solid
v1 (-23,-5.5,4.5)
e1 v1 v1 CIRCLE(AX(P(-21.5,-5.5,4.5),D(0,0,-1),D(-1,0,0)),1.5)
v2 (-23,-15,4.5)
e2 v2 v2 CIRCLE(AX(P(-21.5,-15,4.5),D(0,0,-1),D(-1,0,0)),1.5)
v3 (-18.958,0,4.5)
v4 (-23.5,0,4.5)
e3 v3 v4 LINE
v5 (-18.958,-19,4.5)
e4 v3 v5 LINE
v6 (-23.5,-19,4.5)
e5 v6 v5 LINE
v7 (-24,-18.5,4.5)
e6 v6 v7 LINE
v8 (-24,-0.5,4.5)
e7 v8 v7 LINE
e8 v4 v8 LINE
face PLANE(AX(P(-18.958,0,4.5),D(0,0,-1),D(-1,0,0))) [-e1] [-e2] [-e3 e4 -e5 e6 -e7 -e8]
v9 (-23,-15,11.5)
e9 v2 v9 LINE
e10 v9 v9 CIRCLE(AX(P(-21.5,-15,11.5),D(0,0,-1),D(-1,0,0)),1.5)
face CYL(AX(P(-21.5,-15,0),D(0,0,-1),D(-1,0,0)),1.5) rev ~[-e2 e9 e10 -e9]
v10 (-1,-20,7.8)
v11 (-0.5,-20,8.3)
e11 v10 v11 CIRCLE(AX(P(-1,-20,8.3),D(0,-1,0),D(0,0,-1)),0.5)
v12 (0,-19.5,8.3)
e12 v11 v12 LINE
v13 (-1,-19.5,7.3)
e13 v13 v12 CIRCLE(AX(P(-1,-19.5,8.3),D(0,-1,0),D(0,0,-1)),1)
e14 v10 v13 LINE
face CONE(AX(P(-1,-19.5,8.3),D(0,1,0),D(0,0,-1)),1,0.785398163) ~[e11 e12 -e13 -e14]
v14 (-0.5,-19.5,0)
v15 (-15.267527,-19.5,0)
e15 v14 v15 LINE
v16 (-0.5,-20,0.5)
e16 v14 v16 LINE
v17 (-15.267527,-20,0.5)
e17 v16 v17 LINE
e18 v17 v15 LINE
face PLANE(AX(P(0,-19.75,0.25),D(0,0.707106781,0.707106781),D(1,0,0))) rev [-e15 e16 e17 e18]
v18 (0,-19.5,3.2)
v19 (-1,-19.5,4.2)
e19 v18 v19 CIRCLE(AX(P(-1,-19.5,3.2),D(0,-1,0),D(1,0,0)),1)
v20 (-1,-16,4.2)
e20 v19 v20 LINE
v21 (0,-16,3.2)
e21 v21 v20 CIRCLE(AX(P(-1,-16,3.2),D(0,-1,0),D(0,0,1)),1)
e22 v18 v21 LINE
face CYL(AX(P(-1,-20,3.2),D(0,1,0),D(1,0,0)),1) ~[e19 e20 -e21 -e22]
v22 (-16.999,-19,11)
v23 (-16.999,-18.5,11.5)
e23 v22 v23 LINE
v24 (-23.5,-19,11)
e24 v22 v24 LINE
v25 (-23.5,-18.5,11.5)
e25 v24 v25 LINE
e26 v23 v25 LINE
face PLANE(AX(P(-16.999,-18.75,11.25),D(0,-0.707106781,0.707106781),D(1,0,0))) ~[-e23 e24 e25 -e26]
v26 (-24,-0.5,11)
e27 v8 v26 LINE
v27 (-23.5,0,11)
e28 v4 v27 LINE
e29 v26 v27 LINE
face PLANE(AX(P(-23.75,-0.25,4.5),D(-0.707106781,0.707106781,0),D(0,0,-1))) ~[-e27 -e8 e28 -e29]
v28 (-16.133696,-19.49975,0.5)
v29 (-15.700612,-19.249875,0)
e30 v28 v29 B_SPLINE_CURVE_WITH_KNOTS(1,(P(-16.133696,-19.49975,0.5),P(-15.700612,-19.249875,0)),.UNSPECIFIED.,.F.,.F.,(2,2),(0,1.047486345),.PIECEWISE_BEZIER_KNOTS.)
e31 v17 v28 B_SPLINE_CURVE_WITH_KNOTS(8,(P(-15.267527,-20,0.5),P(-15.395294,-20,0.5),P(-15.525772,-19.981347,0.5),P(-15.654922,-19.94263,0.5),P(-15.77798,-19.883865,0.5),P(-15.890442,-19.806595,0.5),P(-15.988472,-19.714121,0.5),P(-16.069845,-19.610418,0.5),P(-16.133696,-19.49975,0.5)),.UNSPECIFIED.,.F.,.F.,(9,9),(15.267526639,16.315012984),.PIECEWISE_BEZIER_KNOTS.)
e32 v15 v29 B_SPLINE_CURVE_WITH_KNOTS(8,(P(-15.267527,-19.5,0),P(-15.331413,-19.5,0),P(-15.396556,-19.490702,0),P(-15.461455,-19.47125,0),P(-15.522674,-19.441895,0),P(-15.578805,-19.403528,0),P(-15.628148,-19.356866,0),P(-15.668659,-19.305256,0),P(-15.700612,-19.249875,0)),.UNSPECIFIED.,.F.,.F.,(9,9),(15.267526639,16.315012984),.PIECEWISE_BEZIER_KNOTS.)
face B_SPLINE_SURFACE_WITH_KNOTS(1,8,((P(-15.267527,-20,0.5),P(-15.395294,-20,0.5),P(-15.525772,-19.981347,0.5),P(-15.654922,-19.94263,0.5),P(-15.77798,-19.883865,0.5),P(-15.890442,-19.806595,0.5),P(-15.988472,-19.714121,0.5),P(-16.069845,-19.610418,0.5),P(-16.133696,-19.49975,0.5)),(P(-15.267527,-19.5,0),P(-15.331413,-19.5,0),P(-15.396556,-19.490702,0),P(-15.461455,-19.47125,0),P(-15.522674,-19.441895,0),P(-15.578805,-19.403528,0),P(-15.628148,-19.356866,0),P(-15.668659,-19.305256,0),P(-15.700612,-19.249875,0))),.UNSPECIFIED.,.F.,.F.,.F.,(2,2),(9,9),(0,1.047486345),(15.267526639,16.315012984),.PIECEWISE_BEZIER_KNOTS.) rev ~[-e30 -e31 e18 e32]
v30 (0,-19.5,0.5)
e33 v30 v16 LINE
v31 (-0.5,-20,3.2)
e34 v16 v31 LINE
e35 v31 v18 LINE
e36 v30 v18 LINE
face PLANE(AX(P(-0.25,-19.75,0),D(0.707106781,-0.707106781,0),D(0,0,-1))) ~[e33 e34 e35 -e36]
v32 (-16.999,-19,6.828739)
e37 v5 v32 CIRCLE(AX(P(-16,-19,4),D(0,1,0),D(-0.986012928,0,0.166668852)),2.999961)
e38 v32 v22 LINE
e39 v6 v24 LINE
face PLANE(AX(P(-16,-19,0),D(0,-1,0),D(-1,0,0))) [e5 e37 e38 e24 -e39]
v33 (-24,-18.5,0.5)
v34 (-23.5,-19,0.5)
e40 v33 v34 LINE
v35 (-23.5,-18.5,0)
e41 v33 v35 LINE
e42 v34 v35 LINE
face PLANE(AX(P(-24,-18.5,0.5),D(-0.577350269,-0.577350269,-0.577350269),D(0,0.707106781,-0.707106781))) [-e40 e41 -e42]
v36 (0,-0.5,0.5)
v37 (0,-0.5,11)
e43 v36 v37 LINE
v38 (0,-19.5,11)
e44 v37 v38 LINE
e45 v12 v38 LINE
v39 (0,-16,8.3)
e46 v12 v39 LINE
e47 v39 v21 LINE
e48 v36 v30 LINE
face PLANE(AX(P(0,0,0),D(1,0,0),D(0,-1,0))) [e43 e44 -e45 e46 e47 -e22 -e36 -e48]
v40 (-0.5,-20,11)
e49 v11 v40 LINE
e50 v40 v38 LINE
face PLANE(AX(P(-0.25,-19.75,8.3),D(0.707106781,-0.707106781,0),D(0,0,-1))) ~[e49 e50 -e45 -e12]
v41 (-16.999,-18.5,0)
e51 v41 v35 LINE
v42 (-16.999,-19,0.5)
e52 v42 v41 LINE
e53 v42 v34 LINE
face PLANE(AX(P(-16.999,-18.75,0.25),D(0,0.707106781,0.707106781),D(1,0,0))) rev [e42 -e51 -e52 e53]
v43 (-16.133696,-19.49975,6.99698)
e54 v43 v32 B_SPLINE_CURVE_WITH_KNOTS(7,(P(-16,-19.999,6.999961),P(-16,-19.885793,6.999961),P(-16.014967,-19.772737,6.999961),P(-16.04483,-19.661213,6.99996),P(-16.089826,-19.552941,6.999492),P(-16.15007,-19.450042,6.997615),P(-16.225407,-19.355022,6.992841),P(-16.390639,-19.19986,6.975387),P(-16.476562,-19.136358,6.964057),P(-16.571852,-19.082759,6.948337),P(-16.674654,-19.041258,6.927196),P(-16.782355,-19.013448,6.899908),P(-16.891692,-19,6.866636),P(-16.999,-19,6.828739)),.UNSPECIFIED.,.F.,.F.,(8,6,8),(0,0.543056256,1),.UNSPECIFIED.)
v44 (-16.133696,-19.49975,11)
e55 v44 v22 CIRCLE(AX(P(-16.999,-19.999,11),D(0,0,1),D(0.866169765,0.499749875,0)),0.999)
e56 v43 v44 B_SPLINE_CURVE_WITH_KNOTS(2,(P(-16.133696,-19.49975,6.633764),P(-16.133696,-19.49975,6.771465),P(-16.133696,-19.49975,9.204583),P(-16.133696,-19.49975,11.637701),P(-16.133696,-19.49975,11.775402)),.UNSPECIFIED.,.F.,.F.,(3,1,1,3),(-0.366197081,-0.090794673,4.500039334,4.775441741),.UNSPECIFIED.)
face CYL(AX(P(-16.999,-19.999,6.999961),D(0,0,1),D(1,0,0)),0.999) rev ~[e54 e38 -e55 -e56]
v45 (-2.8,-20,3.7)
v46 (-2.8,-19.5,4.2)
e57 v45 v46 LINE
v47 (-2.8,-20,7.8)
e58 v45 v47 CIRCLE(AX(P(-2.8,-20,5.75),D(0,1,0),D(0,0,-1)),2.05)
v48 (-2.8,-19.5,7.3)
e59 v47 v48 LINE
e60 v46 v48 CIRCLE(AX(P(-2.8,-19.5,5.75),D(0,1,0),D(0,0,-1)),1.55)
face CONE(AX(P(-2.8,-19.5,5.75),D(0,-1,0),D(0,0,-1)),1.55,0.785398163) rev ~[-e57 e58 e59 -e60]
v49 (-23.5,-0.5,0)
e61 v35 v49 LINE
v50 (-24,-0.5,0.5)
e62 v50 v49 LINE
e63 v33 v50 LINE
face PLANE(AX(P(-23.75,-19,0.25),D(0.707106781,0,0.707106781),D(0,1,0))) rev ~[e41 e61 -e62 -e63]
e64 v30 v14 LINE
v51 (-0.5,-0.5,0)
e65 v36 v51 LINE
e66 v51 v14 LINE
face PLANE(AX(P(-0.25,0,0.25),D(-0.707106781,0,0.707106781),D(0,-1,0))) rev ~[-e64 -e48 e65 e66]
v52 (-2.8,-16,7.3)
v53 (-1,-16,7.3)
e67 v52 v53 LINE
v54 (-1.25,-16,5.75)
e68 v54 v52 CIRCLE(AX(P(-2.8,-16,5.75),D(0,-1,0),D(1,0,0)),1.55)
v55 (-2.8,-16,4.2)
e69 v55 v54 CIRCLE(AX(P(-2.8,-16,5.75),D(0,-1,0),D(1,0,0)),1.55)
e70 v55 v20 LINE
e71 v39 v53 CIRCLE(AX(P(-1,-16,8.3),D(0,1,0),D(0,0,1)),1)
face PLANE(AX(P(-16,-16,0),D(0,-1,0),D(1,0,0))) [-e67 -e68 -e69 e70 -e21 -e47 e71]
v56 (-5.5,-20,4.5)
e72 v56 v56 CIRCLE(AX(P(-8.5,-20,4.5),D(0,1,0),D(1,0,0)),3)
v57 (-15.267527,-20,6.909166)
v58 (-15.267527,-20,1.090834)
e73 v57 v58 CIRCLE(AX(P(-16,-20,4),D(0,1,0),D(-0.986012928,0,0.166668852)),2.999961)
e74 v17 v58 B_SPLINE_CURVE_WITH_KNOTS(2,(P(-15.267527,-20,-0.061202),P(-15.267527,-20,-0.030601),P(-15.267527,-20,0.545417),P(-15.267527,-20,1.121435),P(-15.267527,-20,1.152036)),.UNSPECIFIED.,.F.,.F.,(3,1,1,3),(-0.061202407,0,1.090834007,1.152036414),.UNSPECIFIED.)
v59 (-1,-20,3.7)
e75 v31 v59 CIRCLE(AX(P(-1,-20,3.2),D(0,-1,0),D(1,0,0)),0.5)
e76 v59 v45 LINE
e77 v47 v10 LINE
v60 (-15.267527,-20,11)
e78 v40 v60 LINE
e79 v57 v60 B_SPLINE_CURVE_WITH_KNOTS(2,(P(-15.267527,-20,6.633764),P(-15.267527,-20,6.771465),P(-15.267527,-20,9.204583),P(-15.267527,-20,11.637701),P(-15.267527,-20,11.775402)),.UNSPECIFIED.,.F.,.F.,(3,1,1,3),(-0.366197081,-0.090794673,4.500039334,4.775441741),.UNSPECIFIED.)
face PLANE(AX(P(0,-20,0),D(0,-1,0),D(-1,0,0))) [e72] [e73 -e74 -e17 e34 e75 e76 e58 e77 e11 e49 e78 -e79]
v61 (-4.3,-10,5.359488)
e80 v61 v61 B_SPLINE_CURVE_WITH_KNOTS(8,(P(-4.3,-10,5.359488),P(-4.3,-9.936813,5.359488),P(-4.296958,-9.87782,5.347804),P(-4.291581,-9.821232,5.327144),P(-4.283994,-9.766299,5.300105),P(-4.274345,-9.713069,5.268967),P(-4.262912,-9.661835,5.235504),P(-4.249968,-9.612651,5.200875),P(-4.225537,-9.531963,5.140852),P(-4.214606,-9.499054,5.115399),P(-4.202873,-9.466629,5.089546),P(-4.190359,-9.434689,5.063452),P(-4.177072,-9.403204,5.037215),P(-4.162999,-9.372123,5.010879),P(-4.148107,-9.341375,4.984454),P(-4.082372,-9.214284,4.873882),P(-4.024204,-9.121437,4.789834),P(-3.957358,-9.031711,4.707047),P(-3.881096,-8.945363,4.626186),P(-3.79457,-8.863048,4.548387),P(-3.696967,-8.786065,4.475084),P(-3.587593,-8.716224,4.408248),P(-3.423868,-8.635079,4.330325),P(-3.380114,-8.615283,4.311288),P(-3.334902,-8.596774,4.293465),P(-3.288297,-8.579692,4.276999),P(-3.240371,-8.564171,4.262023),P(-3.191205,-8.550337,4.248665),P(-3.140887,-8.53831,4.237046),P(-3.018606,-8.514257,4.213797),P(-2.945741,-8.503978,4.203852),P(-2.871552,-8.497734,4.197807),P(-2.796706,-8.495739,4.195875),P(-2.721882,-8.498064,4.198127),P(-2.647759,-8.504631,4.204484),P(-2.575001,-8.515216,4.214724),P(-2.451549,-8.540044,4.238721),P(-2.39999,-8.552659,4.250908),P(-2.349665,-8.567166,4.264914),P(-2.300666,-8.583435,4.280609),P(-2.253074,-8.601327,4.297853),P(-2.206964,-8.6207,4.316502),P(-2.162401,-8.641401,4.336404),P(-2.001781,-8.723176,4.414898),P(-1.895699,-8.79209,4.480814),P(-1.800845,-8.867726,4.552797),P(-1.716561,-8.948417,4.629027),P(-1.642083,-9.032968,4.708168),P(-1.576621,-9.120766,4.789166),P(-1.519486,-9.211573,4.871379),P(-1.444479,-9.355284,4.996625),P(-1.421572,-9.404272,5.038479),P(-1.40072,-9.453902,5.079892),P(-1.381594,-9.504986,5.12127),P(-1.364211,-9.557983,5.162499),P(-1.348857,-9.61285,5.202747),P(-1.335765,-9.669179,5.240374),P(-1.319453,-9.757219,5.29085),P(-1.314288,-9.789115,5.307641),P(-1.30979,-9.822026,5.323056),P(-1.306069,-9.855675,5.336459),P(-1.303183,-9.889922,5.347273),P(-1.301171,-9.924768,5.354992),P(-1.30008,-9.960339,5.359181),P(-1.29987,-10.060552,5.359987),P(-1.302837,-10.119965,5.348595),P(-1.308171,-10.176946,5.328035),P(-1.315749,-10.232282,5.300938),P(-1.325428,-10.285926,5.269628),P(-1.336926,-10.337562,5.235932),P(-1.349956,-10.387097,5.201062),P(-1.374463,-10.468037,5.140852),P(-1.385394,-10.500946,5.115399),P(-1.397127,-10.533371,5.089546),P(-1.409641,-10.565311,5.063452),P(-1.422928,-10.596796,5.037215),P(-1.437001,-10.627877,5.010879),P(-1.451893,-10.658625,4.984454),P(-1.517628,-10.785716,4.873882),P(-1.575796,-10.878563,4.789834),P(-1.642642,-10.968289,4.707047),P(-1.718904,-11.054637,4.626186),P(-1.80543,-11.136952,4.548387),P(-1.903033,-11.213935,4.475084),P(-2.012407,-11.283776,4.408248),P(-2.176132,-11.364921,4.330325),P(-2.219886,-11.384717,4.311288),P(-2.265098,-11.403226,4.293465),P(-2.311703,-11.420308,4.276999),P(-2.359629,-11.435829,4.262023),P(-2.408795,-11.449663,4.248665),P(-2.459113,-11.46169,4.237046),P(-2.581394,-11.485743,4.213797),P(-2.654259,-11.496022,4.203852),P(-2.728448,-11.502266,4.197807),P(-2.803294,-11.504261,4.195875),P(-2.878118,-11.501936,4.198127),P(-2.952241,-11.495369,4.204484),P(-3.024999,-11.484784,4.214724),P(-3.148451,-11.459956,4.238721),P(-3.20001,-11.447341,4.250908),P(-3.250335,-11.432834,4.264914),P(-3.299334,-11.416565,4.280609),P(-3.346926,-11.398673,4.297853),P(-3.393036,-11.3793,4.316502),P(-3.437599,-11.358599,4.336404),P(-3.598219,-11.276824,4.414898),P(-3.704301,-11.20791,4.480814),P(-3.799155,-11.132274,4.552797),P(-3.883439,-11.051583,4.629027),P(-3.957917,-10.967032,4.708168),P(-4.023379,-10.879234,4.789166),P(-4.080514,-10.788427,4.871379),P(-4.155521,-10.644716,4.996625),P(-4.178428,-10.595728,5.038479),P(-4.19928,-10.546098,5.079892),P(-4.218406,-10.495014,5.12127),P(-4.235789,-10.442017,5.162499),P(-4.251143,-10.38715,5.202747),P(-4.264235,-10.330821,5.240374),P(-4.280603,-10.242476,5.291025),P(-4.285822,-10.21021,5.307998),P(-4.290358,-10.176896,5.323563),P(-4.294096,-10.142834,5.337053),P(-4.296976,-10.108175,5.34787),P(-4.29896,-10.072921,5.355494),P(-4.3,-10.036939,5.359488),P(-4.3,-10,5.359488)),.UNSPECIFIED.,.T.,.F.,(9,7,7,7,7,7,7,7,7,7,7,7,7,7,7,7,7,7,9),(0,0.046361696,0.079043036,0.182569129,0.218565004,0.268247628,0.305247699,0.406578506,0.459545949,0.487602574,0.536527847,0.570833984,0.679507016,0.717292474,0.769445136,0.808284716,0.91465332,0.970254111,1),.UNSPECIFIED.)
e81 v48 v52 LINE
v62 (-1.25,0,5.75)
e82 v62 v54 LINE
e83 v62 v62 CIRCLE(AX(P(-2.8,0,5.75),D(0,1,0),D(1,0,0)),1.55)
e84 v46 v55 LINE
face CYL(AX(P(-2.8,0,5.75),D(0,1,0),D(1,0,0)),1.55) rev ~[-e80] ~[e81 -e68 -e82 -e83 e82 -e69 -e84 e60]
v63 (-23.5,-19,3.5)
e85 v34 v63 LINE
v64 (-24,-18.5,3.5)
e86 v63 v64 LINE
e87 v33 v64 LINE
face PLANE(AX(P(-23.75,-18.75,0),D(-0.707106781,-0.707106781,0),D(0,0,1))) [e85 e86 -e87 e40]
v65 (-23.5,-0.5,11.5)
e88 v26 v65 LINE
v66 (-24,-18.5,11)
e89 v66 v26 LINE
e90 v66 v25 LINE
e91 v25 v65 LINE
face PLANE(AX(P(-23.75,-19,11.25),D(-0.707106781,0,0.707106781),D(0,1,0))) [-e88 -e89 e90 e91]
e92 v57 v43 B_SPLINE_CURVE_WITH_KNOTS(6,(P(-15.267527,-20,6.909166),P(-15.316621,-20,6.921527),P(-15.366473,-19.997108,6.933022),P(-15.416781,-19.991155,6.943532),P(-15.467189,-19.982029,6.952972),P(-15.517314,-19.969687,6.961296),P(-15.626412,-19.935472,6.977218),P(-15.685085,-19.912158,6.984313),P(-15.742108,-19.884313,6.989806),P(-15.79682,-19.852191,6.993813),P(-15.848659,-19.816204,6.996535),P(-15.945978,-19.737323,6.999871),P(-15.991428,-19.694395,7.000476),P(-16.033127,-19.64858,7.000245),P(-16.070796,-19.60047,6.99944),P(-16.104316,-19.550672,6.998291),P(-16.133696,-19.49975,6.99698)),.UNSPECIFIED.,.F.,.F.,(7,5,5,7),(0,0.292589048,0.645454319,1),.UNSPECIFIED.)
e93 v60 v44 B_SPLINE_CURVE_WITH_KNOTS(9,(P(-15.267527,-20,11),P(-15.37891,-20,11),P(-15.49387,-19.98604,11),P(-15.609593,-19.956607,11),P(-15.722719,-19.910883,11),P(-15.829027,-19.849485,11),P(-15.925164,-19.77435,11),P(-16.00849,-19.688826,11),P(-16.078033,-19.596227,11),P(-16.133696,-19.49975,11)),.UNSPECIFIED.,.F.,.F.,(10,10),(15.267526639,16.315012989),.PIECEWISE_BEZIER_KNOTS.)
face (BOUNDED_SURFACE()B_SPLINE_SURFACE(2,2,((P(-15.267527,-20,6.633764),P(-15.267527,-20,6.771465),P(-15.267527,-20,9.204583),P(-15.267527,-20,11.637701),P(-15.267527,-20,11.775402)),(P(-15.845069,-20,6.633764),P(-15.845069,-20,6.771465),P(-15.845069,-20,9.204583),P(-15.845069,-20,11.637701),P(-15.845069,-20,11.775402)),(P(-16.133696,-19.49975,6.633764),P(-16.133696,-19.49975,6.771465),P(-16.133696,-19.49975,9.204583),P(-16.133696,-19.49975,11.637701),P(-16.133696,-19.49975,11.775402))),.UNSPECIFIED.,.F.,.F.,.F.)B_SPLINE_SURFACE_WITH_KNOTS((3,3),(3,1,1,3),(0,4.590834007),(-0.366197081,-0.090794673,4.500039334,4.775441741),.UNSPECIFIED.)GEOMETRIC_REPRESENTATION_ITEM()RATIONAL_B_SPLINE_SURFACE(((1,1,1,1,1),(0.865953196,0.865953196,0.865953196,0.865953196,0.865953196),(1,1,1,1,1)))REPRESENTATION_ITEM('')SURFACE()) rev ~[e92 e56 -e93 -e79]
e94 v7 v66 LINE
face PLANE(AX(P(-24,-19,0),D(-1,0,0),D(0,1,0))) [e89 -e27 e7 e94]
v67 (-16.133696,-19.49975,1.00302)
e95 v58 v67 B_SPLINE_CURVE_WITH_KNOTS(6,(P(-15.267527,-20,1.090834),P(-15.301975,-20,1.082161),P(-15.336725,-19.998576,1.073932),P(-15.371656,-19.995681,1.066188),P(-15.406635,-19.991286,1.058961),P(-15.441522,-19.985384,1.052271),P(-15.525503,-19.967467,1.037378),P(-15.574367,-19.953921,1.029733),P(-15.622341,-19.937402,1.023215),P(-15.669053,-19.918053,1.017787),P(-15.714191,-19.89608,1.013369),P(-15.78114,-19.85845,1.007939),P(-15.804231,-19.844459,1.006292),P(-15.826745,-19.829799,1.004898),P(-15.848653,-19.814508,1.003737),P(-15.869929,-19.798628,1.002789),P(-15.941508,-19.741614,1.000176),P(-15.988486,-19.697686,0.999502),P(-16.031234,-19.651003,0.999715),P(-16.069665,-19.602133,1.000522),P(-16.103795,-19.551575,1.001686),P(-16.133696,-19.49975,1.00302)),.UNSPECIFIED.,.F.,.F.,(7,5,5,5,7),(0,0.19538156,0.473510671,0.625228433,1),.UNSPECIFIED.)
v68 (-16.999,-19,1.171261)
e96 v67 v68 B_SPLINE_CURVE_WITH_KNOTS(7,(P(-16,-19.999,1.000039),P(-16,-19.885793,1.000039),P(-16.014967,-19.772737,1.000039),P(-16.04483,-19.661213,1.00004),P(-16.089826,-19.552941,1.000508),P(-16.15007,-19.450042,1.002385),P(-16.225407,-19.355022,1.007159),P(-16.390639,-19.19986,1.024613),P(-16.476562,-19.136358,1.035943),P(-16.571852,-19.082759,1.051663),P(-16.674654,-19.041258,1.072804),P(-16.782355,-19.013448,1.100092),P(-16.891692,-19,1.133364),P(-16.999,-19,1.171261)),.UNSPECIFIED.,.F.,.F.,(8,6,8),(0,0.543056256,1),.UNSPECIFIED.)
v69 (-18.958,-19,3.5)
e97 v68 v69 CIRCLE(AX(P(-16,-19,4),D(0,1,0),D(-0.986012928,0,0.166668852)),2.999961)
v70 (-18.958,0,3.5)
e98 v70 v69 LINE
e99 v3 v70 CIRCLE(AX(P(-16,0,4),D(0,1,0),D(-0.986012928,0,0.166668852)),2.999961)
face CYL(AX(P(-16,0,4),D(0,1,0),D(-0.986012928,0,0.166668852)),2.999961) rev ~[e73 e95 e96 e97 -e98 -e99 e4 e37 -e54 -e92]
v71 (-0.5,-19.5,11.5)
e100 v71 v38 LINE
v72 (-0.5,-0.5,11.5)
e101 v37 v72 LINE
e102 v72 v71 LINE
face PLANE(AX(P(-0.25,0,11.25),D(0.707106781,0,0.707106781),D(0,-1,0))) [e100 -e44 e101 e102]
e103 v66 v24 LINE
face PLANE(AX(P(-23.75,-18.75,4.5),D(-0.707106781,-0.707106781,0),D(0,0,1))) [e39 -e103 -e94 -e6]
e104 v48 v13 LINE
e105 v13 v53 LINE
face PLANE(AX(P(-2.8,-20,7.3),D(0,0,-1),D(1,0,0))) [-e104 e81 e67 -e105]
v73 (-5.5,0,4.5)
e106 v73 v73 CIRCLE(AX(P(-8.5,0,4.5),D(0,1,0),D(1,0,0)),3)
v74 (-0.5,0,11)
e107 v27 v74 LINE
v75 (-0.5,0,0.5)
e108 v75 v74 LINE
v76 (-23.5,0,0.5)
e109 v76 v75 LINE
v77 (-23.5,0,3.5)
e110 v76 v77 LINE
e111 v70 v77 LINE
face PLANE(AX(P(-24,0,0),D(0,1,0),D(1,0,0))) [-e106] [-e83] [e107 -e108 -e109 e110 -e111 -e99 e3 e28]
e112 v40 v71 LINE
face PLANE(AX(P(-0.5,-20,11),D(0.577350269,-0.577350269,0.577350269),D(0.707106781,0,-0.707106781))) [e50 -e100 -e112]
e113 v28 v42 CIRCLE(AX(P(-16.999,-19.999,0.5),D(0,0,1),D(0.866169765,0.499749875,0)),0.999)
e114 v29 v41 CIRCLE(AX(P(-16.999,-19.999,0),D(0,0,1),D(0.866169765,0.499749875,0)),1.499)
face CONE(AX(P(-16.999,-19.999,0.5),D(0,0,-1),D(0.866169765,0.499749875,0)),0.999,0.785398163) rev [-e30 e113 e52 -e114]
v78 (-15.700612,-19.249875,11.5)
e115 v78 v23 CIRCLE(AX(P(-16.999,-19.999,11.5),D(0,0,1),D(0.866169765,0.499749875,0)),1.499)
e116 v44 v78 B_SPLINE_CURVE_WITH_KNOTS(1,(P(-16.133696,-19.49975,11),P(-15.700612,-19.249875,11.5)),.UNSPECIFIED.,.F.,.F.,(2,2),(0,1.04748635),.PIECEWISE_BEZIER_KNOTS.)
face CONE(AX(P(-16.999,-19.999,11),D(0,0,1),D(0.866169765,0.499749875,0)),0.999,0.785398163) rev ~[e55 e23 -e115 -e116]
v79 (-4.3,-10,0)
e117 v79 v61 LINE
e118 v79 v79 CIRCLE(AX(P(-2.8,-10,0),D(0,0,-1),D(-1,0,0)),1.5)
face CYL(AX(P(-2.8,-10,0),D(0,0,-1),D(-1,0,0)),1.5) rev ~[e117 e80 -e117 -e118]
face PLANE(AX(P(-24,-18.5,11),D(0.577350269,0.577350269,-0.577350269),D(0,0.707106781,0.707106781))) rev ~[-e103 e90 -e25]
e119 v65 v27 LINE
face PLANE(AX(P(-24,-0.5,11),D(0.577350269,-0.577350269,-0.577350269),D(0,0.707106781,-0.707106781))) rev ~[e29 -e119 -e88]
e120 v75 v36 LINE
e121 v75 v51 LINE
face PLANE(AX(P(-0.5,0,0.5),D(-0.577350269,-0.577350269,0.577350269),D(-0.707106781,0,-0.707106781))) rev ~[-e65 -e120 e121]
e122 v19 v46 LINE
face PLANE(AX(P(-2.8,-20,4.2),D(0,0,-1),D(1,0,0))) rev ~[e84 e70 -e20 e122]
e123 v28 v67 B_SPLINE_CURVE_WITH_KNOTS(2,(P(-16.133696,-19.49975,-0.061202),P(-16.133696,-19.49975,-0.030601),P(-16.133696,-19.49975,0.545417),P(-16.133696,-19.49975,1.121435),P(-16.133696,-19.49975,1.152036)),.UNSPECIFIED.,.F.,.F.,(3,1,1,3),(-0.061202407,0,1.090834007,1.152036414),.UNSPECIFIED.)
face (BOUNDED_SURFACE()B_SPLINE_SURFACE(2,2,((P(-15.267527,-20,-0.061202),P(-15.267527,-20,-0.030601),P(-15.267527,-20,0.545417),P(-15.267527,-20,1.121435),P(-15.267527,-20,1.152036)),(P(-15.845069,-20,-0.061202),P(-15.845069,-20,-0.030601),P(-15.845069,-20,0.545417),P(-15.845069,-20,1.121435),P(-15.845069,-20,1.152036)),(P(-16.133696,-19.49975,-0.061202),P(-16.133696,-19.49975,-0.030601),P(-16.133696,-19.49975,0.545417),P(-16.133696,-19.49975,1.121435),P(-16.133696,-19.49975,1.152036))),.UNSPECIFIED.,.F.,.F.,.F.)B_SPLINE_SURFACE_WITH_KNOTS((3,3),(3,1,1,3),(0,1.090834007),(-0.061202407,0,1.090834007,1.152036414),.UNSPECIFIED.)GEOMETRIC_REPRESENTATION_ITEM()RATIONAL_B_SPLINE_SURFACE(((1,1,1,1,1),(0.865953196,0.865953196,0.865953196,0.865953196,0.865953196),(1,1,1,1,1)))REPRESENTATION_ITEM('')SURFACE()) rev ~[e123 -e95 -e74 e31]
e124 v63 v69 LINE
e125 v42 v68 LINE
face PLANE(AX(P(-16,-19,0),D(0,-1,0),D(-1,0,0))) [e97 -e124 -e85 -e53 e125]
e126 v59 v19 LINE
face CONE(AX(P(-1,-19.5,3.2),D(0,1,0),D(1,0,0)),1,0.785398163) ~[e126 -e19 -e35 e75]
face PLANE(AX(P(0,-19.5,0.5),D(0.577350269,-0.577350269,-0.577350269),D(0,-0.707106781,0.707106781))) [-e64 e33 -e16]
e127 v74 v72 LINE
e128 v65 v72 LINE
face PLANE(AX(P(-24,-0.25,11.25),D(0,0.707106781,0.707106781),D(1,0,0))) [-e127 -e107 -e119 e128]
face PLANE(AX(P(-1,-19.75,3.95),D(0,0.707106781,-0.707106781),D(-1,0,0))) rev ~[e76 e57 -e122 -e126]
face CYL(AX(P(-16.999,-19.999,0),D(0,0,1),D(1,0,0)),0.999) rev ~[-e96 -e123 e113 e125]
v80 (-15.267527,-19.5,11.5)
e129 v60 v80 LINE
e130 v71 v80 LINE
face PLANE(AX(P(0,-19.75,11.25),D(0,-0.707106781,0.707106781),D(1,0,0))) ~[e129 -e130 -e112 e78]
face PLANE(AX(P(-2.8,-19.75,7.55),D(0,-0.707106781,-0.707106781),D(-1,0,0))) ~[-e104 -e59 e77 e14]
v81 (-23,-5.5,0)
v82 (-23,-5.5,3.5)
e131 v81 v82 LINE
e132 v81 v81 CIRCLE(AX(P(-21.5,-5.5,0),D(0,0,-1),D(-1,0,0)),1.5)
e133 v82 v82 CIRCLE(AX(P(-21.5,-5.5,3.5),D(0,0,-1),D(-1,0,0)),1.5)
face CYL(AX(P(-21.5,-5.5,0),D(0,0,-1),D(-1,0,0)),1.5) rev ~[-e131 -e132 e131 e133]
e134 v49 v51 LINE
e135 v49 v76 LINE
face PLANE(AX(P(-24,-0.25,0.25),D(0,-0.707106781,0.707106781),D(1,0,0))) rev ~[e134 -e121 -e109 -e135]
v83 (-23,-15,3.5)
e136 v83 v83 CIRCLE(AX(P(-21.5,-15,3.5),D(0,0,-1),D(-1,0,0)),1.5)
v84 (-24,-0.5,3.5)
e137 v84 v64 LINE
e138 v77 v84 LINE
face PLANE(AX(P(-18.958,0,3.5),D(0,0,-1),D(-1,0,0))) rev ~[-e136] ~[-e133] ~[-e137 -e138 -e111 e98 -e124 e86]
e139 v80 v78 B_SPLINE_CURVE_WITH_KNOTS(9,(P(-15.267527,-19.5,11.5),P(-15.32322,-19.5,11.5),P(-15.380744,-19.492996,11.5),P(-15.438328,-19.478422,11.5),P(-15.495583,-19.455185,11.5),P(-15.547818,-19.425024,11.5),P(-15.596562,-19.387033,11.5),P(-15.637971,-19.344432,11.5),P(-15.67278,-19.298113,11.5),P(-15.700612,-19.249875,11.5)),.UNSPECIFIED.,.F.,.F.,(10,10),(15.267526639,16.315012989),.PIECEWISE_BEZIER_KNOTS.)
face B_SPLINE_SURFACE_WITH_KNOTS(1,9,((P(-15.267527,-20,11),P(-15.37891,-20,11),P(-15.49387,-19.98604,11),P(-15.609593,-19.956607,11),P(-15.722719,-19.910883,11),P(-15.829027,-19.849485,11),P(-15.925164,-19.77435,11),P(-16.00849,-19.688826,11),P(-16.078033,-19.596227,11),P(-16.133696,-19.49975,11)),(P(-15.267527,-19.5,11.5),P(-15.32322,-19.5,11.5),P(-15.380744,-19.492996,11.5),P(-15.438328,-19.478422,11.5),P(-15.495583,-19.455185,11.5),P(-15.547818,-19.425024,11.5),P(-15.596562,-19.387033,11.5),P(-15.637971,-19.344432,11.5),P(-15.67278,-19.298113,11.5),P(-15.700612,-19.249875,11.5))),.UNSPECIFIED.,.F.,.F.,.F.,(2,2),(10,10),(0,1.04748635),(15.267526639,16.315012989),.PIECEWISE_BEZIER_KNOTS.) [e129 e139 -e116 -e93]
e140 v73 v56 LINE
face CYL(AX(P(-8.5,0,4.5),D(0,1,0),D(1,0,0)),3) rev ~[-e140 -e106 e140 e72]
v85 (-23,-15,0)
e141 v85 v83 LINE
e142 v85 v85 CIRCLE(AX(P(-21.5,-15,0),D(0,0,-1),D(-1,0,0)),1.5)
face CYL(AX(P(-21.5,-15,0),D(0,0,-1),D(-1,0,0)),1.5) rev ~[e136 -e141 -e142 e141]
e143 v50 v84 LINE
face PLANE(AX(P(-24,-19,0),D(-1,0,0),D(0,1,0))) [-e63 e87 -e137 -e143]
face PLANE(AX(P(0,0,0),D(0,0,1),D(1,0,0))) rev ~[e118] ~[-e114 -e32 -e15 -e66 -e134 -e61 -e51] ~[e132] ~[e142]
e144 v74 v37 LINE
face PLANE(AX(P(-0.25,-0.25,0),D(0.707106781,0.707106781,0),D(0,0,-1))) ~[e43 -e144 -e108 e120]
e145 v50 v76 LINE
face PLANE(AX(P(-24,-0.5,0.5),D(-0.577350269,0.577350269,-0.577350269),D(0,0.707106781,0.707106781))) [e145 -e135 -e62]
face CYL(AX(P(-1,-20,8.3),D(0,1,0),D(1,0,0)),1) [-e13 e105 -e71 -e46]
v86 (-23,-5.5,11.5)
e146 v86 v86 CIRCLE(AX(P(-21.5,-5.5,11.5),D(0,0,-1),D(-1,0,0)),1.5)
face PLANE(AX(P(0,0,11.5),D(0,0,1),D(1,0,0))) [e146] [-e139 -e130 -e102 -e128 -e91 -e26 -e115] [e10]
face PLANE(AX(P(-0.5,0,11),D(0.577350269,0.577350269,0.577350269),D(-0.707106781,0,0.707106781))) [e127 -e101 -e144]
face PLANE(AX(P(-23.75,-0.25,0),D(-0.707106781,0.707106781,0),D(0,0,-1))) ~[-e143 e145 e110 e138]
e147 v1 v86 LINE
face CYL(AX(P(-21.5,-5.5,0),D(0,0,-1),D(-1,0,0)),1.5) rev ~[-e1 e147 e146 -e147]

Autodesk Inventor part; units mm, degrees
ref_plane "YZ Plane" through (0, 0, 0) normal (1, 0, 0) x (0, 1, 0)
ref_plane "XZ Plane" through (0, 0, 0) normal (0, 1, 0) x (-1, 0, 0)
ref_plane "XY Plane" through (0, 0, 0) normal (0, 0, 1) x (1, 0, 0)
sketch "Skizze1" plane through (0, 0, 0) normal (0, 0, 1) x (1, 0, 0)
  line L0 (0, 0) -> (0, -20)
  line L1 (0, -20) -> (-16, -20)
  line L2 (-16, -20) -> (-16, -19)
  line L3 (-16, -19) -> (-24, -19)
  line L4 (-24, -19) -> (-24, 0)
  line L5 (-24, 0) -> (0, 0)
  dimension "d0" = 20
  dimension "d1" = 16
  dimension "d2" = 1
  dimension "d3" = 8
extrude "Main Body" add sketch "Skizze1" along normal blind 11.5
sketch "Skizze2" plane through (-24, 0, 0) normal (0, 1, 0) x (1, 0, 0)
  arc A0 (5.042, -4.5) -> (5.042, -3.5) centre (8, -4) ccw
  line L0 (0, 0) -> (0, -11.5) projected
  line L1 (24, -11.5) -> (0, -11.5) projected
  line L2 (5.042, -3.5) -> (0, -3.5)
  line L3 (5.042, -4.5) -> (0, -4.5)
  line L4 (0, -3.5) -> (0, -4.5)
  circle A1 centre (15.5, -4.5) radius 3
  circle A2 centre (21.2, -5.75) radius 1.55
  line L5 (0, 0) -> (24, 0) projected
  dimension "d6" = 8
  dimension "d7" = 3
  dimension "d9" = 1
  dimension "d10" = 0.5
  dimension "d11" = 6
  dimension "d13" = 15.5
  dimension "d14" = 3.1
  dimension "d15" = 21.2
  dimension "d19" = 4
  dimension "d20" = 4.5
  dimension "d21" = 5.75
extrude "Insert Holes" cut sketch "Skizze2" against normal through all
sketch "Skizze3" plane through (-16, -20, 0) normal (0, -1, 0) x (1, 0, 0)
  circle A0 centre (13.2, 5.75) radius 1.55 projected
  line L0 (13.2, 7.3) -> (16, 7.3)
  line L1 (13.2, 4.2) -> (16, 4.2)
  line L2 (16, 0) -> (16, 11.5) projected
  line L3 (16, 4.2) -> (16, 7.3)
  line L4 (13.2, 7.3) -> (13.2, 4.2)
extrude "Cable Opening" cut sketch "Skizze3" against normal blind 4 contours A0 L0 L2 L1
fillet "Rundung1" radius 1 6 edges at (-16, -19, 9.25) (-16, -19, 0.5) (0, -18, 7.3) (0, -18, 4.2) (-16, -20, 9.25) (-16, -20, 0.5)
sketch "Skizze4" plane through (0, 0, 0) normal (0, 0, -1) x (-1, 0, 0)
  circle A0 centre (21.5, -15) radius 1.5
  circle A1 centre (21.5, -5.5) radius 1.5
  line L0 (24, -19) -> (24, 0) projected
  line L1 (24, 0) -> (0, 0) projected
  dimension "d25" = 3
  dimension "d26" = 3
  dimension "d27" = 2.5
  dimension "d28" = 2.5
  dimension "d29" = 5.5
  dimension "d30" = 15
extrude "Cartridge clamping holes" cut sketch "Skizze4" against normal through all
sketch "Skizze5" plane through (0, 0, 0) normal (0, 0, -1) x (-1, 0, 0)
  circle A0 centre (2.8, -10) radius 1.5
  line L0 (24, -19) -> (24, 0) projected
  line L1 (24, 0) -> (0, 0) projected
  dimension "d33" = 3
  dimension "d34" = 21.2
  dimension "d35" = 10
extrude "PT100 clamping holes" cut sketch "Skizze5" against normal up to next
chamfer "Fase1" distance 0.5 angle 45 24 edges at (0, -10, 11.5) (-7.6338, -20, 11.5) (-15.7677, -19.866, 11.5) (-20.4995, -19, 11.5) (-7.6338, -20, 0) (-15.7677, -19.866, 0) (-20.4995, -19, 0) (0, -10, 0) (0, 0, 5.75) (-12, 0, 11.5) (-24, -19, 8) (-24, -9.5, 11.5) (-24, -19, 1.75) (0, -20, 9.9) (-0.2929, -20, 7.5929) (-1.9, -20, 7.3) (-4.35, -20, 5.75) (-1.9, -20, 4.2) (-0.2929, -20, 3.9071) (0, -20, 1.6) (-12, 0, 0) (-24, -9.5, 0) (-24, 0, 1.75) (-24, 0, 8)
thread "Gewinde1" size "M6x1" class "6H" standard "ANSI Metric M Profile" full length
thread "Gewinde2" size "M3x0.5" class "6H" standard "ANSI Metric M Profile" full length
thread "Gewinde3" size "M3x0.5" class "6H" standard "ANSI Metric M Profile" full length
thread "Gewinde4" size "M3x0.5" class "6H" standard "ANSI Metric M Profile" full length
properties part number "E3D-v6 Volcano Heater Block" material "Aluminium 6061"
